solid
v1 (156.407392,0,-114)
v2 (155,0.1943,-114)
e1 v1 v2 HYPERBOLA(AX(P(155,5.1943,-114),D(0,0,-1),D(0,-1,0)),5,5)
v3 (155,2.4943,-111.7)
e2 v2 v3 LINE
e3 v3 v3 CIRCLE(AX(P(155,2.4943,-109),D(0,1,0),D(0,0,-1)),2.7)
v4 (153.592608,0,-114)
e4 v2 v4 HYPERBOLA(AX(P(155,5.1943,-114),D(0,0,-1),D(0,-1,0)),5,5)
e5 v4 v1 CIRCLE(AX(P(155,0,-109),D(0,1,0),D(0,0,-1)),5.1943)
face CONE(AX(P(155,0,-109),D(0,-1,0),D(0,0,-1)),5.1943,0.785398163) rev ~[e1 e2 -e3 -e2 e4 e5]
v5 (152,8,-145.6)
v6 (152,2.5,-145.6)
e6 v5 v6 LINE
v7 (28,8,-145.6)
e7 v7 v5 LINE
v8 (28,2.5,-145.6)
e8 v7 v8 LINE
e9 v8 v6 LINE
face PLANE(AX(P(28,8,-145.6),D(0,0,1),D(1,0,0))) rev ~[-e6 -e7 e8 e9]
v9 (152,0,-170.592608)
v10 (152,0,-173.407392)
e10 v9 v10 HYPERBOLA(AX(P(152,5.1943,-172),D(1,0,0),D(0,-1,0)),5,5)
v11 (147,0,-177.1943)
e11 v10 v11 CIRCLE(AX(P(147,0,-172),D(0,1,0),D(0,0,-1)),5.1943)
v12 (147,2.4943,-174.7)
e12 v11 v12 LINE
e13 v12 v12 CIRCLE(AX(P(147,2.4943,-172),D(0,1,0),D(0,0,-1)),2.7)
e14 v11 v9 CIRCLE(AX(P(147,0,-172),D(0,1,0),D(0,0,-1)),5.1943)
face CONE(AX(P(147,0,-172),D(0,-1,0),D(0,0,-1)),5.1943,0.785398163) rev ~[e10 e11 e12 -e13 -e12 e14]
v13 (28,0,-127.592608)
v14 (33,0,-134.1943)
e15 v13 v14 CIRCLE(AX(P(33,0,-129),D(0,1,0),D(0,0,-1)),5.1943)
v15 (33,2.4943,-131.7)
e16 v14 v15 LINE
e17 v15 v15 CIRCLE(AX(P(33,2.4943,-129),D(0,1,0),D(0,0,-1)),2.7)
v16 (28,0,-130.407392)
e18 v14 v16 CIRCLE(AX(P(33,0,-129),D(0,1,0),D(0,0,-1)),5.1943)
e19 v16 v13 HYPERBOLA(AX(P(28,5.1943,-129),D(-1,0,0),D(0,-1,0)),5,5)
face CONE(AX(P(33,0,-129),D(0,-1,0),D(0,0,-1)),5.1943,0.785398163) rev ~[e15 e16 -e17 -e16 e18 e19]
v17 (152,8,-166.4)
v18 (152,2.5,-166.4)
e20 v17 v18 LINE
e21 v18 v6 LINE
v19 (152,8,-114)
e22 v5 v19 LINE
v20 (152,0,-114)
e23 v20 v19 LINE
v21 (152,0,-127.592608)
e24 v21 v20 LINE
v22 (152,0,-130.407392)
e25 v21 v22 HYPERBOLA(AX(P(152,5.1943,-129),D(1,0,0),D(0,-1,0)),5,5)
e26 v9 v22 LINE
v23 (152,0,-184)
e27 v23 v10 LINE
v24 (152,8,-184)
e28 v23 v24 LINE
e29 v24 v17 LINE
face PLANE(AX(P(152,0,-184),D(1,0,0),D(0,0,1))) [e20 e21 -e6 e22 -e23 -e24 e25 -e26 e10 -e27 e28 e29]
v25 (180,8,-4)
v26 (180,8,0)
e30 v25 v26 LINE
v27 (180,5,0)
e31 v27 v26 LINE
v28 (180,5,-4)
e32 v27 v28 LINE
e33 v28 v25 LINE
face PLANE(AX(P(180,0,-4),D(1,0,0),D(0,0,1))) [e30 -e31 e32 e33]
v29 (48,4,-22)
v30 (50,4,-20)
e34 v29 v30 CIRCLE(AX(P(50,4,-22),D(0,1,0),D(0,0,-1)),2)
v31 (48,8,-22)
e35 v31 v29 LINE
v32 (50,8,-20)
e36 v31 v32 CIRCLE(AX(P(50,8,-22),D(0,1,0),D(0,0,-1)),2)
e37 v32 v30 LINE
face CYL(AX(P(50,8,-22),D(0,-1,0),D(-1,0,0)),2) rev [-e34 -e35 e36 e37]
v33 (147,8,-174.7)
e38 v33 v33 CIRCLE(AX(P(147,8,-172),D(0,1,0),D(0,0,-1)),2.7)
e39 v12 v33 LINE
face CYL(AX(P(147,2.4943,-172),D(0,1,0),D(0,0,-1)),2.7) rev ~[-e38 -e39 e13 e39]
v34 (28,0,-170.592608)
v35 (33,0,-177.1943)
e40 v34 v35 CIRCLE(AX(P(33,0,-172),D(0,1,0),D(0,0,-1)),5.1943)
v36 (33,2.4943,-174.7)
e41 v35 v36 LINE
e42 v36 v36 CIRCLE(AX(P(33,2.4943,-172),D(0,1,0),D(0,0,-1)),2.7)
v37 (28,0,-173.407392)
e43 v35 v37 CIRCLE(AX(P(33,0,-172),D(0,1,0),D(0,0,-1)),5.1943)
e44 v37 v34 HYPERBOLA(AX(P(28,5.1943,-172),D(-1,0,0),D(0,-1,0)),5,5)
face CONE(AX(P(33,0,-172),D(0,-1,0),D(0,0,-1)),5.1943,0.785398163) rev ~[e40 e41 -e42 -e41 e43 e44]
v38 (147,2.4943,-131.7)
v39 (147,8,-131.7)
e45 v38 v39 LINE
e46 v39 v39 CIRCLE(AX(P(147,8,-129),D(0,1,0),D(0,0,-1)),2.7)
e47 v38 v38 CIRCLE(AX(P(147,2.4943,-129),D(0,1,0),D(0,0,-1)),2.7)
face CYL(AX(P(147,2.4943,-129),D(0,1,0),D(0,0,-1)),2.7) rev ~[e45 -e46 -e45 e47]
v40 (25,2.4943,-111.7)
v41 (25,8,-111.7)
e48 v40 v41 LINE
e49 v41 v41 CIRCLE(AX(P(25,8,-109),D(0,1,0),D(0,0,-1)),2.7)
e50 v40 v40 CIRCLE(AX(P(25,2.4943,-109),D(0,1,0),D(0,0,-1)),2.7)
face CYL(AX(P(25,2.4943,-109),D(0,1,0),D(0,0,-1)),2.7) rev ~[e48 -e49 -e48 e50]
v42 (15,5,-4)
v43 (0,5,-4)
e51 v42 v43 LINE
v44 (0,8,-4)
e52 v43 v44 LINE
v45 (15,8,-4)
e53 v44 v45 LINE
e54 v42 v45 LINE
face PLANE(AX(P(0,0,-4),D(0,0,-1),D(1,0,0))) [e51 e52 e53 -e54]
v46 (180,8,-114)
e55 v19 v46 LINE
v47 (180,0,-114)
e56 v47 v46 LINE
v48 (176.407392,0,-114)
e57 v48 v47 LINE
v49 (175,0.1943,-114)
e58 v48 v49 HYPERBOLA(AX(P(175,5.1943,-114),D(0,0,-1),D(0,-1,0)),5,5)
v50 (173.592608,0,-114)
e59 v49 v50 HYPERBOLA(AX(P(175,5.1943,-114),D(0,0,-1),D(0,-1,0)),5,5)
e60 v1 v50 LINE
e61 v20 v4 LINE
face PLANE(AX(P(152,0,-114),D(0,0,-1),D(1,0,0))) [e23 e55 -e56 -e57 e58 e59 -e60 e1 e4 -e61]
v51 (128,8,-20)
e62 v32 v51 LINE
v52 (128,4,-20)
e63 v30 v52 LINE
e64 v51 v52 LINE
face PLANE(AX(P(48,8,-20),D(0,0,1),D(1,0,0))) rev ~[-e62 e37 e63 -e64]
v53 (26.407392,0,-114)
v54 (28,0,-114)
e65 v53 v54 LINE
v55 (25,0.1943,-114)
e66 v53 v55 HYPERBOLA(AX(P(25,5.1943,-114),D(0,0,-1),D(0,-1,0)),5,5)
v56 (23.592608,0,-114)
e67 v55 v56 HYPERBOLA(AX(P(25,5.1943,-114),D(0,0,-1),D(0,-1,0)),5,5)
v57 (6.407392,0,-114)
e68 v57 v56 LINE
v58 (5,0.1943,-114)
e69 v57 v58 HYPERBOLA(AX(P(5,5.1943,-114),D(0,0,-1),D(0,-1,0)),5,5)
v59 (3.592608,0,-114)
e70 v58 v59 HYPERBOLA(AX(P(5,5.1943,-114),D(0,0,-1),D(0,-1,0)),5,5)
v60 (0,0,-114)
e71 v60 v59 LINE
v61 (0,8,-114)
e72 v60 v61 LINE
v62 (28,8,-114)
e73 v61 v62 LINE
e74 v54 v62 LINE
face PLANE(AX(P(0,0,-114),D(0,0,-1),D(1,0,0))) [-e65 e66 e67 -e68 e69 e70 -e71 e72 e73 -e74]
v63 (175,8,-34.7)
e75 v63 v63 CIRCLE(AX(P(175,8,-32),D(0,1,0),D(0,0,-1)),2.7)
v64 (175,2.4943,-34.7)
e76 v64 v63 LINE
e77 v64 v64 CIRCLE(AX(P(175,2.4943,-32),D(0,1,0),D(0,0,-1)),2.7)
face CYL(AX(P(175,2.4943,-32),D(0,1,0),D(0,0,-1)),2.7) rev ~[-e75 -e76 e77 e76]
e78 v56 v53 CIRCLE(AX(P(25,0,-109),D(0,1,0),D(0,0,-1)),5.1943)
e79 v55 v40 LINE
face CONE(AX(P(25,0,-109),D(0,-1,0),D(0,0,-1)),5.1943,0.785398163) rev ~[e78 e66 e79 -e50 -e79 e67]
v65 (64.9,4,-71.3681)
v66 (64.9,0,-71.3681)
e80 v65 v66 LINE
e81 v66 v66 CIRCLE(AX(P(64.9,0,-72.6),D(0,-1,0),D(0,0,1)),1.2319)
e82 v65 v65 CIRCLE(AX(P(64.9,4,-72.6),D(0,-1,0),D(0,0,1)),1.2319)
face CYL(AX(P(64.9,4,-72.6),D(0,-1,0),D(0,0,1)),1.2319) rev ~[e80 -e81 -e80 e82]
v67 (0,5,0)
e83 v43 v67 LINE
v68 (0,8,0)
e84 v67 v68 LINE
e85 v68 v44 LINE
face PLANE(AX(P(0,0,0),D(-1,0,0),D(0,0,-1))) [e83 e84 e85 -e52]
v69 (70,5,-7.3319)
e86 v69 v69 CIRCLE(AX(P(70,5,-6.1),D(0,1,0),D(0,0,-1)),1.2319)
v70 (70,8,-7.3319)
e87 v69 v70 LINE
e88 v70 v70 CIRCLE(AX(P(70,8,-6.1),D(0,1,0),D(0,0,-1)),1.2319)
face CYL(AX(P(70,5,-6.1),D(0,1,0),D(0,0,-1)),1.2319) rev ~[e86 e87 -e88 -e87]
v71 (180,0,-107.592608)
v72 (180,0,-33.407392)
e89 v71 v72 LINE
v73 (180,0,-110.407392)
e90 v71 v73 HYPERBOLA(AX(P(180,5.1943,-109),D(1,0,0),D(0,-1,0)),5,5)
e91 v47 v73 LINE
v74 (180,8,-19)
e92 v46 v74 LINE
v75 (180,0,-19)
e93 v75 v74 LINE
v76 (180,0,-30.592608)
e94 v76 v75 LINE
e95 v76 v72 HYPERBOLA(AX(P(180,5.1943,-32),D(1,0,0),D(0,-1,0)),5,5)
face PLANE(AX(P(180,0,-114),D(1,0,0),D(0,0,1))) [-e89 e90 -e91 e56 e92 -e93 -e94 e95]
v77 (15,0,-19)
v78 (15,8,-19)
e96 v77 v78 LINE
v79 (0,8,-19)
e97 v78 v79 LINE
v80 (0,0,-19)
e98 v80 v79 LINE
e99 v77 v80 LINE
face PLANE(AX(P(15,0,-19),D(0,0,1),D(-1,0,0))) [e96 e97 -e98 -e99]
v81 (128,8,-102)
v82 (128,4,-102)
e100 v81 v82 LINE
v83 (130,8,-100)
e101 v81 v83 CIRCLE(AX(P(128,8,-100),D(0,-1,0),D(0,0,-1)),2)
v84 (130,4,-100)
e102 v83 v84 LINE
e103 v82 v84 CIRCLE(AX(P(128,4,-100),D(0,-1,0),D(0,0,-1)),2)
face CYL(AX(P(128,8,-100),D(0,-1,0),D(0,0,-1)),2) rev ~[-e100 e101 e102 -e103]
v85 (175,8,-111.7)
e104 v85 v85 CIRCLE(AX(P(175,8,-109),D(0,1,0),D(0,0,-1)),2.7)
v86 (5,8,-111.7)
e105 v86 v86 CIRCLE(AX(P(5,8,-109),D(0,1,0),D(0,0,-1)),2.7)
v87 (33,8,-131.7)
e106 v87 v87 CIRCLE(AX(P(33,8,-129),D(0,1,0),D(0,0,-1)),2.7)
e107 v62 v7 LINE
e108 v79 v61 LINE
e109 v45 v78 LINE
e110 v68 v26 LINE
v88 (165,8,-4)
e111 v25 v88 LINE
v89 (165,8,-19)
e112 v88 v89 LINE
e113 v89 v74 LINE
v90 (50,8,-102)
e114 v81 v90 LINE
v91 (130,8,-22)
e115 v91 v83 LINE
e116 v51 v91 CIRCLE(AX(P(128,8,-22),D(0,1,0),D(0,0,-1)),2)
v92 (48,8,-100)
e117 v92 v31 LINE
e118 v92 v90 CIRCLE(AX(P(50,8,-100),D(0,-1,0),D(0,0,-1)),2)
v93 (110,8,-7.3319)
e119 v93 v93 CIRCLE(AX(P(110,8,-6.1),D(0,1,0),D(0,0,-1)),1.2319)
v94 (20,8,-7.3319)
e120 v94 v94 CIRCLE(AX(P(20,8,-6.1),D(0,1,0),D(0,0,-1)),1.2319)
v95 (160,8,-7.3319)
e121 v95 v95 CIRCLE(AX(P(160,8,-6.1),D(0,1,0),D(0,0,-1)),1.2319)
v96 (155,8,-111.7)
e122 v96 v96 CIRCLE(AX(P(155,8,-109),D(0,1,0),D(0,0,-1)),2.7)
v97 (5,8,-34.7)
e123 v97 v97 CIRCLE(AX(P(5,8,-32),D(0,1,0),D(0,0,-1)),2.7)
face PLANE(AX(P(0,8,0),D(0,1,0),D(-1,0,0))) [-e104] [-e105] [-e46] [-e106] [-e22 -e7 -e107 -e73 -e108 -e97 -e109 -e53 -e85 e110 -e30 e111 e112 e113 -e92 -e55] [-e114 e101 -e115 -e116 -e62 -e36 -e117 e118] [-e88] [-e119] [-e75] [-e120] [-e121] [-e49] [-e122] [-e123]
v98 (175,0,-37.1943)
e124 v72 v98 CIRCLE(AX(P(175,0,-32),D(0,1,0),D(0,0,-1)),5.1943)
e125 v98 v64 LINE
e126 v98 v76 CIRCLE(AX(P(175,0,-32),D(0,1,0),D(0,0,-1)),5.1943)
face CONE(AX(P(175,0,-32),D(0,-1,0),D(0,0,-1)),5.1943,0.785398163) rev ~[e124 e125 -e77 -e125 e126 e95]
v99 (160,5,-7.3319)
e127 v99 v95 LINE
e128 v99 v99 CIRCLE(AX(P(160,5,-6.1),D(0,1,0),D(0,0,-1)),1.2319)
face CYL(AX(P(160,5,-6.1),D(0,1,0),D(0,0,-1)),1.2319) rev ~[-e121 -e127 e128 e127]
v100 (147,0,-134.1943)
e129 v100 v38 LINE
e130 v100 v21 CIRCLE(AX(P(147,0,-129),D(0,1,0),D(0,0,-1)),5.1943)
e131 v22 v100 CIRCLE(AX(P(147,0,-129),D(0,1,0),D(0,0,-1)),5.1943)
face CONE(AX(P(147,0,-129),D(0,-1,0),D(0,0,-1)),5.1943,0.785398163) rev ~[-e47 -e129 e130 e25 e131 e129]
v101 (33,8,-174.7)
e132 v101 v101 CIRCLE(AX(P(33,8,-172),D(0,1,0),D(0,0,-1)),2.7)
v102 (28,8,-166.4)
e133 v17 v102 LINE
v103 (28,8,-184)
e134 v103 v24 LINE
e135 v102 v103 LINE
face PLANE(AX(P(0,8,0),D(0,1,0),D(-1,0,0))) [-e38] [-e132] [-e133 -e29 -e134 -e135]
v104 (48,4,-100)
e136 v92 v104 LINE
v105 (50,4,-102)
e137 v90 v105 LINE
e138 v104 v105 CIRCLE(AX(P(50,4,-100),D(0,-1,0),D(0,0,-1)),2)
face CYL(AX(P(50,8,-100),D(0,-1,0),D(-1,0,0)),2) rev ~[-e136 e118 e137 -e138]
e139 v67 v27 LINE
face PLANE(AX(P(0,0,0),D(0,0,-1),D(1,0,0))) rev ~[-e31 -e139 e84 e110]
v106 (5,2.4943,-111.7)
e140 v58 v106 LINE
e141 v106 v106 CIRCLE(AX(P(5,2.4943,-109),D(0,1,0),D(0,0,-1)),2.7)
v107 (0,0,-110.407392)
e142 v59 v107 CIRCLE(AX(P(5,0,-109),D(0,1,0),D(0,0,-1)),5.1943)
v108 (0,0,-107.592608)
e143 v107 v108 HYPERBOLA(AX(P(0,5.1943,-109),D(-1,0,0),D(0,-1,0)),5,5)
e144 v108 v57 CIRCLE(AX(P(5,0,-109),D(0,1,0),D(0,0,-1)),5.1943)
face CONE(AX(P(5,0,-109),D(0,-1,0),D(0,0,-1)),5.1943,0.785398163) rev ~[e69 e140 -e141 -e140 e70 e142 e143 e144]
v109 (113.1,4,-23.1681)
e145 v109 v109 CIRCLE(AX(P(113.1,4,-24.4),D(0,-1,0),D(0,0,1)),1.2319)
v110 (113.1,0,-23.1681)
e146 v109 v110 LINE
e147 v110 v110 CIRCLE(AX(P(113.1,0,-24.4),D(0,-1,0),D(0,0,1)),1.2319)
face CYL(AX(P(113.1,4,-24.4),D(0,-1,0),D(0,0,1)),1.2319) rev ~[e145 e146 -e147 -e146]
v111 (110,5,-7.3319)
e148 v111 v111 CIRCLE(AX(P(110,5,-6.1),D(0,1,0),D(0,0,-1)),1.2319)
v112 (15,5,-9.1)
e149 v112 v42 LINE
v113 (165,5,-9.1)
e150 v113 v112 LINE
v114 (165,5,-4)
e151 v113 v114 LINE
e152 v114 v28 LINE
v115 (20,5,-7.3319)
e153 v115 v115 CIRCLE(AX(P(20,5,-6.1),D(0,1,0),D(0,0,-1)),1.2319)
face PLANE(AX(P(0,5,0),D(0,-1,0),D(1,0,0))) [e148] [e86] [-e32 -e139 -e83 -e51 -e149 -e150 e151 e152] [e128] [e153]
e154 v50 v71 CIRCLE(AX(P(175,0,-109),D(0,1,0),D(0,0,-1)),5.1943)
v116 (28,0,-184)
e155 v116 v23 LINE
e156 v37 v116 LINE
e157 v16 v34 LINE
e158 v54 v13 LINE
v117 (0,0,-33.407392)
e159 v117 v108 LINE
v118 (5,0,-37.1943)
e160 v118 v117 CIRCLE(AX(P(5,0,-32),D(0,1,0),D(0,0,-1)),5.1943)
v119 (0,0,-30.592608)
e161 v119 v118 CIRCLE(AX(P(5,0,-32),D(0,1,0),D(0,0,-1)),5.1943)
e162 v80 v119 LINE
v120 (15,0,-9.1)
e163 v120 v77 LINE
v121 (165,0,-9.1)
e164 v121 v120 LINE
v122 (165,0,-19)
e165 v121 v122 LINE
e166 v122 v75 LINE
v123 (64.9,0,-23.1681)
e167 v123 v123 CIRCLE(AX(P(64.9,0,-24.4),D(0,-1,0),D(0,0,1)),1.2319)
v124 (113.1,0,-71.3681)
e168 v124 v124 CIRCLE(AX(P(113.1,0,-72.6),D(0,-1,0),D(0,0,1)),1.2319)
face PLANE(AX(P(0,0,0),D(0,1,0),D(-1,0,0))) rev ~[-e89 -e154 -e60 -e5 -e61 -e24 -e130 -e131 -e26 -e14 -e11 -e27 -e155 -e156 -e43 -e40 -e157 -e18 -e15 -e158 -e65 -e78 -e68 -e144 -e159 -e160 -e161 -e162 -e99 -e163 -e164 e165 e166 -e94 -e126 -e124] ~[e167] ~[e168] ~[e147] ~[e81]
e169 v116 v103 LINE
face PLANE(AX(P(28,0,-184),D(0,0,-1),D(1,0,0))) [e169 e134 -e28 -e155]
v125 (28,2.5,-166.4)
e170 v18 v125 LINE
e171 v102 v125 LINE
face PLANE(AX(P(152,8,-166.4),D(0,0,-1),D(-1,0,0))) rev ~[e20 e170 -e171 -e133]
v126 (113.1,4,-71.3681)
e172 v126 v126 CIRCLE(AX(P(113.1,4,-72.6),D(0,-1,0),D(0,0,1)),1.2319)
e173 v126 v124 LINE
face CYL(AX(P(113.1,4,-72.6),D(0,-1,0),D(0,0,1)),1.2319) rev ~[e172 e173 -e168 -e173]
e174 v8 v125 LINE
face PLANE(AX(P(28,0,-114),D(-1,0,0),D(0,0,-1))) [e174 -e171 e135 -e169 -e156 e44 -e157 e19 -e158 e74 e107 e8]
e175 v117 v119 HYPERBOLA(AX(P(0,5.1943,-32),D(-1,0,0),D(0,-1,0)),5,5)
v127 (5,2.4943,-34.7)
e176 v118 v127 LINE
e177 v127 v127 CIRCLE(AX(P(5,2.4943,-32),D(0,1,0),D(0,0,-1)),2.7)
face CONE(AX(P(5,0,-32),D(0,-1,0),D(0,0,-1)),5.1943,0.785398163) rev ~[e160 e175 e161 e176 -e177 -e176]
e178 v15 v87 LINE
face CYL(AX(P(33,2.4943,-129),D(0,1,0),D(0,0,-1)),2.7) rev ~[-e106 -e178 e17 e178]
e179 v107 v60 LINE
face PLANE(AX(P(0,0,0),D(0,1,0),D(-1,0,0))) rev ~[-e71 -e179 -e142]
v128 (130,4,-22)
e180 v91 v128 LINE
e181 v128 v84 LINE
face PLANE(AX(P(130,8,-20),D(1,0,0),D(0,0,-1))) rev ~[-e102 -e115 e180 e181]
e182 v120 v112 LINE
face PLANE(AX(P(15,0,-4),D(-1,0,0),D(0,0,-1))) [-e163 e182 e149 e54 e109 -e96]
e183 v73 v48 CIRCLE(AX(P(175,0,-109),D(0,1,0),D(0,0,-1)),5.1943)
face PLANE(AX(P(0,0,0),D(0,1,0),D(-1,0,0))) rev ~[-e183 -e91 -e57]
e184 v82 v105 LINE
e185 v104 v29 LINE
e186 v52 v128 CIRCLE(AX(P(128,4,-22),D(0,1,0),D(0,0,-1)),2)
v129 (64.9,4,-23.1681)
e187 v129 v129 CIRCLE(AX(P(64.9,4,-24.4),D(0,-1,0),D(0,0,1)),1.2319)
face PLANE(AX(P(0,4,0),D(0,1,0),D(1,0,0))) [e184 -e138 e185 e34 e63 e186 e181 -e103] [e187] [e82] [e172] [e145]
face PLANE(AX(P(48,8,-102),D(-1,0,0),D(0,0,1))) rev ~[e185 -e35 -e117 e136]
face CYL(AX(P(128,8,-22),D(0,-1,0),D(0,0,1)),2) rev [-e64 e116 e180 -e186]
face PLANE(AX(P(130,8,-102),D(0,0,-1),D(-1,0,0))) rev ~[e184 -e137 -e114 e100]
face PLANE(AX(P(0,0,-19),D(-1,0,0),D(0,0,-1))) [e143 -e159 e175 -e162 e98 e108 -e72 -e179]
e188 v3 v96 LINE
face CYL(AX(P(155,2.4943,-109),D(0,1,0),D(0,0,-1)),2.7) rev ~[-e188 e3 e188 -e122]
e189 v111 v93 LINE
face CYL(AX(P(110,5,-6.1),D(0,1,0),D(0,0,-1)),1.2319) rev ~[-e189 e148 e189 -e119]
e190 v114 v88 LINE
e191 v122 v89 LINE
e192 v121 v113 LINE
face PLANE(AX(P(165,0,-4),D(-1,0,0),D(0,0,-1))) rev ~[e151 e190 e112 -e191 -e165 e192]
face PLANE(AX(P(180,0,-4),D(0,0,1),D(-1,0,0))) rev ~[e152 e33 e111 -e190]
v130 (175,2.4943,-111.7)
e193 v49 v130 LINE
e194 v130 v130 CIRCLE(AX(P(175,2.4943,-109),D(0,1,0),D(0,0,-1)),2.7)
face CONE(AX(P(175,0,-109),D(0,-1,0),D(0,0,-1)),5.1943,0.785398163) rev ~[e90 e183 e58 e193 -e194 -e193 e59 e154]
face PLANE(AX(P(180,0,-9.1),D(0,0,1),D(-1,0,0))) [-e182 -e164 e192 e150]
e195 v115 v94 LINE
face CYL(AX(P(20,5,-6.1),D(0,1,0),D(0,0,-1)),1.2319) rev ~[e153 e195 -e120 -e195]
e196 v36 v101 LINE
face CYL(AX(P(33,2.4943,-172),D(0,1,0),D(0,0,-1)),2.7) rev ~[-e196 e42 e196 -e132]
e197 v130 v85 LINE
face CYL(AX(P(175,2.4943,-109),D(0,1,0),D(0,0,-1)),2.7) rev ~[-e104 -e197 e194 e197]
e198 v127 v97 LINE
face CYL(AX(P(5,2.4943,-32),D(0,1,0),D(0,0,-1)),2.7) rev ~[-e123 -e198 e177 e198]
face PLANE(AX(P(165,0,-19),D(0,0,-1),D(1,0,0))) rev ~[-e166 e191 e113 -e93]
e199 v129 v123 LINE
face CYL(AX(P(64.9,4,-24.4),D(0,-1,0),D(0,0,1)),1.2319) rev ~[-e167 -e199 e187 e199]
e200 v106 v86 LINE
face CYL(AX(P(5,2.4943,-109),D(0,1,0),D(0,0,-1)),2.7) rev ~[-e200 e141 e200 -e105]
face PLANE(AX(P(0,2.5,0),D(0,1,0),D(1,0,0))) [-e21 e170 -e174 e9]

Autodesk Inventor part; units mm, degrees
ref_plane "YZ Plane" through (0, 0, 0) normal (1, 0, 0) x (0, 1, 0)
ref_plane "XZ Plane" through (0, 0, 0) normal (0, 1, 0) x (-1, 0, 0)
ref_plane "XY Plane" through (0, 0, 0) normal (0, 0, 1) x (1, 0, 0)
sketch "Sketch1" plane through (0, 0, 0) normal (0, 1, 0) x (-1, 0, 0)
  line L0 (0, 0) -> (-180, 0)
  line L1 (0, 0) -> (0, -4)
  line L2 (0, -4) -> (-15, -4)
  line L3 (-15, -4) -> (-15, -19)
  line L4 (-15, -19) -> (0, -19)
  line L5 (-180, -4) -> (-165, -4)
  line L6 (-165, -4) -> (-165, -19)
  line L7 (-165, -19) -> (-180, -19)
  line L8 (-180, -4) -> (-180, 0)
  line L9 (0, -19) -> (0, -114)
  line L10 (0, -114) -> (-28, -114)
  line L11 (-28, -114) -> (-28, -184)
  line L12 (-28, -184) -> (-152, -184)
  line L13 (-152, -184) -> (-152, -114)
  line L14 (-152, -114) -> (-180, -114)
  line L15 (-180, -114) -> (-180, -19)
  dimension "d11" = 4
  dimension "d12" = 15
  dimension "d13" = 15
  dimension "d14" = 15
  dimension "d15" = 15
  dimension "d41" = 95
  dimension "d42" = 28
  dimension "d43" = 70
  dimension "d44" = 70
  dimension "d45" = 28
extrude "Extrusion1" add sketch "Sketch1" along normal blind 8
sketch "Sketch2" plane through (0, 0, 0) normal (0, -1, 0) x (1, 0, 0)
  line L0 (0, 0) -> (180, 0)
  line L1 (180, 0) -> (180, -9.1)
  line L2 (180, -9.1) -> (0, -9.1)
  line L3 (0, -9.1) -> (0, 0)
  dimension "d7" = 180
  dimension "d8" = 9.1
extrude "Extrusion2" cut sketch "Sketch2" against normal blind 5
sketch "Sketch6" plane through (0, 5, 0) normal (0, -1, 0) x (1, 0, 0)
  line L0 (165, -9.1) -> (15, -9.1) projected
  line L1 (15, -9.1) -> (15, -6.1)
  line L2 (15, -19) -> (15, -4) projected
  line L3 (15, -6.1) -> (20, -6.1)
  line L4 (20, -6.1) -> (70, -6.1)
  line L5 (70, -6.1) -> (110, -6.1)
  line L6 (110, -6.1) -> (160, -6.1)
  point P0 (0, 0)
  dimension "d28" = 3
  dimension "d29" = 5
  dimension "d30" = 50
  dimension "d31" = 40
  dimension "d32" = 50
hole "Hole1" at (20, 5, -6.1) at (70, 5, -6.1) at (110, 5, -6.1) at (160, 5, -6.1) direction (0, 1, 0) diameter 2.4638 end through all
sketch "Sketch7" plane through (152, 0, -114) normal (1, 0, 0) x (0, 0, -1)
  line L0 (70, 0) -> (42, 0)
  line L1 (70, 0) -> (0, 0) projected
  line L2 (42, 0) -> (42, 15)
  circle A0 centre (42, 15) radius 12.5
  point P0 (-114, 0)
  dimension "d46" = 28
  dimension "d47" = 15
  dimension "d48" = 25
extrude "Extrusion5" cut sketch "Sketch7" against normal blind 124
sketch "Sketch8" plane through (0, 8, 0) normal (0, 1, 0) x (1, 0, 0)
  line L0 (0, 0) -> (180, 0) projected
  line L1 (0, 4) -> (0, 0) projected
  line L2 (0, 0) -> (48, 0)
  line L3 (48, 0) -> (48, 20)
  line L4 (48, 20) -> (130, 20)
  line L5 (130, 20) -> (130, 102)
  line L6 (130, 102) -> (48, 102)
  line L7 (48, 102) -> (48, 20)
  dimension "d114" = 48
  dimension "d115" = 20
  dimension "d116" = 82
  dimension "d117" = 82
extrude "Extrusion6" cut sketch "Sketch8" against normal blind 4
sketch "Sketch11" plane through (0, 0, 0) normal (0, -1, 0) x (1, 0, 0)
  line L0 (0, -114) -> (5, -114)
  line L1 (5, -114) -> (5, -109)
  line L2 (0, -109) -> (0, -114)
  line L3 (0, -109) -> (5, -109)
  line L4 (180, -114) -> (175, -114)
  line L5 (175, -114) -> (175, -109)
  line L6 (180, -109) -> (180, -114)
  line L7 (180, -109) -> (175, -109)
  line L8 (0, -19) -> (5, -19)
  line L9 (5, -19) -> (5, -32)
  line L10 (5, -32) -> (0, -32)
  line L11 (0, -32) -> (0, -19)
  line L12 (165, -19) -> (180, -19) projected
  line L13 (180, -19) -> (175, -19)
  line L14 (175, -19) -> (175, -32)
  line L15 (175, -32) -> (180, -32)
  line L16 (180, -32) -> (180, -19)
  line L17 (5, -109) -> (25, -109)
  line L18 (175, -109) -> (155, -109)
  line L19 (28, -184) -> (28, -114) projected
  line L20 (28, -184) -> (33, -184)
  line L21 (33, -184) -> (33, -172)
  line L22 (33, -172) -> (28, -172)
  line L23 (28, -172) -> (28, -184)
  line L24 (152, -184) -> (28, -184) projected
  line L25 (152, -184) -> (147, -184)
  line L26 (147, -184) -> (147, -172)
  line L27 (147, -172) -> (152, -172)
  line L28 (152, -172) -> (152, -184)
  line L29 (28, -145.6438) -> (28, -114) projected
  line L30 (28, -114) -> (33, -114)
  line L31 (33, -114) -> (33, -129)
  line L32 (33, -129) -> (28, -129)
  line L33 (28, -129) -> (28, -114)
  line L34 (180, -114) -> (152, -114) projected
  line L35 (152, -114) -> (147, -114)
  line L36 (147, -114) -> (147, -129)
  line L37 (147, -129) -> (152, -129)
  line L38 (152, -129) -> (152, -114)
  point P0 (0, 0)
  point P1 (145, -19)
  dimension "d88" = 5
  dimension "d89" = 5
  dimension "d92" = 5
  dimension "d105" = 5
  dimension "d106" = 13
  dimension "d107" = 20
  dimension "d108" = 20
  dimension "d131" = 5
  dimension "d132" = 12
  dimension "d133" = 5
  dimension "d134" = 12
  dimension "d136" = 5
  dimension "d137" = 15
hole "Hole4" at (5, 0, -109) at (175, 0, -109) at (175, 0, -32) at (5, 0, -32) at (155, 0, -109) at (25, 0, -109) at (33, 0, -129) at (33, 0, -172) at (147, 0, -172) at (147, 0, -129) direction (0, 1, 0) diameter 5.4 end through all countersink diameter 10.3886 countersink angle 90 clearance for "Countersunk Flat Head Screw ISO 2009/7046" size "M5" standard "ISO"
sketch "Sketch12" plane through (0, 4, 0) normal (0, 1, 0) x (1, 0, 0)
  line L0 (48, 20) -> (48, 102) projected
  line L1 (48, 20) -> (64.9, 20)
  line L2 (130, 20) -> (48, 20) projected
  line L3 (64.9, 20) -> (64.9, 24.4)
  line L4 (64.9, 24.4) -> (64.9, 72.6)
  line L5 (64.9, 24.4) -> (113.1, 24.4)
  line L6 (64.9, 24.4) -> (113.1, 72.6)
  point P0 (0, 0)
  dimension "d119" = 16.9
  dimension "d120" = 4.4
  dimension "d121" = 48.2
  dimension "d122" = 48.2
hole "Hole5" at (64.9, 4, -72.6) at (64.9, 4, -24.4) at (113.1, 4, -72.6) at (113.1, 4, -24.4) direction (0, -1, 0) diameter 2.4638 end through all
fillet "Fillet2" radius 2 4 edges at (48, 6, -102) (130, 6, -102) (130, 6, -20) (48, 6, -20)
sketch "Sketch13" plane through (152, 0, -184) normal (1, 0, 0) x (0, 0, -1)
  arc A0 (-38.3562, 8) -> (-17.6438, 8) centre (-28, 15) ccw projected
  circle A1 centre (-28, 15) radius 19.5
  line L0 (-174.9, 0) -> (-174.9, 5) projected
  line L1 (-174.9, 0) -> (-195, 0)
  line L2 (-195, 0) -> (-24.2057, -4.6095)
  point P0 (-184, 0)
  dimension "d138" = 39
  dimension "d139" = 20.1
sketch "Sketch14" plane through (0, 8, 0) normal (0, 1, 0) x (1, 0, 0)
  line L0 (152, 166.3562) -> (152, 145.6438) projected
  line L1 (152, 156) -> (28, 156)
  line L2 (28, 145.6438) -> (28, 166.3562) projected
  line L3 (28, 145.6) -> (152, 145.6)
  line L4 (152, 145.6) -> (152, 166.4)
  line L5 (152, 166.4) -> (28, 166.4)
  line L6 (28, 166.4) -> (28, 145.6)
  point P0 (0, 0)
  dimension "d140" = 20.8
extrude "Extrusion7" cut sketch "Sketch14" against normal blind 5.5
properties part number "blacha"
